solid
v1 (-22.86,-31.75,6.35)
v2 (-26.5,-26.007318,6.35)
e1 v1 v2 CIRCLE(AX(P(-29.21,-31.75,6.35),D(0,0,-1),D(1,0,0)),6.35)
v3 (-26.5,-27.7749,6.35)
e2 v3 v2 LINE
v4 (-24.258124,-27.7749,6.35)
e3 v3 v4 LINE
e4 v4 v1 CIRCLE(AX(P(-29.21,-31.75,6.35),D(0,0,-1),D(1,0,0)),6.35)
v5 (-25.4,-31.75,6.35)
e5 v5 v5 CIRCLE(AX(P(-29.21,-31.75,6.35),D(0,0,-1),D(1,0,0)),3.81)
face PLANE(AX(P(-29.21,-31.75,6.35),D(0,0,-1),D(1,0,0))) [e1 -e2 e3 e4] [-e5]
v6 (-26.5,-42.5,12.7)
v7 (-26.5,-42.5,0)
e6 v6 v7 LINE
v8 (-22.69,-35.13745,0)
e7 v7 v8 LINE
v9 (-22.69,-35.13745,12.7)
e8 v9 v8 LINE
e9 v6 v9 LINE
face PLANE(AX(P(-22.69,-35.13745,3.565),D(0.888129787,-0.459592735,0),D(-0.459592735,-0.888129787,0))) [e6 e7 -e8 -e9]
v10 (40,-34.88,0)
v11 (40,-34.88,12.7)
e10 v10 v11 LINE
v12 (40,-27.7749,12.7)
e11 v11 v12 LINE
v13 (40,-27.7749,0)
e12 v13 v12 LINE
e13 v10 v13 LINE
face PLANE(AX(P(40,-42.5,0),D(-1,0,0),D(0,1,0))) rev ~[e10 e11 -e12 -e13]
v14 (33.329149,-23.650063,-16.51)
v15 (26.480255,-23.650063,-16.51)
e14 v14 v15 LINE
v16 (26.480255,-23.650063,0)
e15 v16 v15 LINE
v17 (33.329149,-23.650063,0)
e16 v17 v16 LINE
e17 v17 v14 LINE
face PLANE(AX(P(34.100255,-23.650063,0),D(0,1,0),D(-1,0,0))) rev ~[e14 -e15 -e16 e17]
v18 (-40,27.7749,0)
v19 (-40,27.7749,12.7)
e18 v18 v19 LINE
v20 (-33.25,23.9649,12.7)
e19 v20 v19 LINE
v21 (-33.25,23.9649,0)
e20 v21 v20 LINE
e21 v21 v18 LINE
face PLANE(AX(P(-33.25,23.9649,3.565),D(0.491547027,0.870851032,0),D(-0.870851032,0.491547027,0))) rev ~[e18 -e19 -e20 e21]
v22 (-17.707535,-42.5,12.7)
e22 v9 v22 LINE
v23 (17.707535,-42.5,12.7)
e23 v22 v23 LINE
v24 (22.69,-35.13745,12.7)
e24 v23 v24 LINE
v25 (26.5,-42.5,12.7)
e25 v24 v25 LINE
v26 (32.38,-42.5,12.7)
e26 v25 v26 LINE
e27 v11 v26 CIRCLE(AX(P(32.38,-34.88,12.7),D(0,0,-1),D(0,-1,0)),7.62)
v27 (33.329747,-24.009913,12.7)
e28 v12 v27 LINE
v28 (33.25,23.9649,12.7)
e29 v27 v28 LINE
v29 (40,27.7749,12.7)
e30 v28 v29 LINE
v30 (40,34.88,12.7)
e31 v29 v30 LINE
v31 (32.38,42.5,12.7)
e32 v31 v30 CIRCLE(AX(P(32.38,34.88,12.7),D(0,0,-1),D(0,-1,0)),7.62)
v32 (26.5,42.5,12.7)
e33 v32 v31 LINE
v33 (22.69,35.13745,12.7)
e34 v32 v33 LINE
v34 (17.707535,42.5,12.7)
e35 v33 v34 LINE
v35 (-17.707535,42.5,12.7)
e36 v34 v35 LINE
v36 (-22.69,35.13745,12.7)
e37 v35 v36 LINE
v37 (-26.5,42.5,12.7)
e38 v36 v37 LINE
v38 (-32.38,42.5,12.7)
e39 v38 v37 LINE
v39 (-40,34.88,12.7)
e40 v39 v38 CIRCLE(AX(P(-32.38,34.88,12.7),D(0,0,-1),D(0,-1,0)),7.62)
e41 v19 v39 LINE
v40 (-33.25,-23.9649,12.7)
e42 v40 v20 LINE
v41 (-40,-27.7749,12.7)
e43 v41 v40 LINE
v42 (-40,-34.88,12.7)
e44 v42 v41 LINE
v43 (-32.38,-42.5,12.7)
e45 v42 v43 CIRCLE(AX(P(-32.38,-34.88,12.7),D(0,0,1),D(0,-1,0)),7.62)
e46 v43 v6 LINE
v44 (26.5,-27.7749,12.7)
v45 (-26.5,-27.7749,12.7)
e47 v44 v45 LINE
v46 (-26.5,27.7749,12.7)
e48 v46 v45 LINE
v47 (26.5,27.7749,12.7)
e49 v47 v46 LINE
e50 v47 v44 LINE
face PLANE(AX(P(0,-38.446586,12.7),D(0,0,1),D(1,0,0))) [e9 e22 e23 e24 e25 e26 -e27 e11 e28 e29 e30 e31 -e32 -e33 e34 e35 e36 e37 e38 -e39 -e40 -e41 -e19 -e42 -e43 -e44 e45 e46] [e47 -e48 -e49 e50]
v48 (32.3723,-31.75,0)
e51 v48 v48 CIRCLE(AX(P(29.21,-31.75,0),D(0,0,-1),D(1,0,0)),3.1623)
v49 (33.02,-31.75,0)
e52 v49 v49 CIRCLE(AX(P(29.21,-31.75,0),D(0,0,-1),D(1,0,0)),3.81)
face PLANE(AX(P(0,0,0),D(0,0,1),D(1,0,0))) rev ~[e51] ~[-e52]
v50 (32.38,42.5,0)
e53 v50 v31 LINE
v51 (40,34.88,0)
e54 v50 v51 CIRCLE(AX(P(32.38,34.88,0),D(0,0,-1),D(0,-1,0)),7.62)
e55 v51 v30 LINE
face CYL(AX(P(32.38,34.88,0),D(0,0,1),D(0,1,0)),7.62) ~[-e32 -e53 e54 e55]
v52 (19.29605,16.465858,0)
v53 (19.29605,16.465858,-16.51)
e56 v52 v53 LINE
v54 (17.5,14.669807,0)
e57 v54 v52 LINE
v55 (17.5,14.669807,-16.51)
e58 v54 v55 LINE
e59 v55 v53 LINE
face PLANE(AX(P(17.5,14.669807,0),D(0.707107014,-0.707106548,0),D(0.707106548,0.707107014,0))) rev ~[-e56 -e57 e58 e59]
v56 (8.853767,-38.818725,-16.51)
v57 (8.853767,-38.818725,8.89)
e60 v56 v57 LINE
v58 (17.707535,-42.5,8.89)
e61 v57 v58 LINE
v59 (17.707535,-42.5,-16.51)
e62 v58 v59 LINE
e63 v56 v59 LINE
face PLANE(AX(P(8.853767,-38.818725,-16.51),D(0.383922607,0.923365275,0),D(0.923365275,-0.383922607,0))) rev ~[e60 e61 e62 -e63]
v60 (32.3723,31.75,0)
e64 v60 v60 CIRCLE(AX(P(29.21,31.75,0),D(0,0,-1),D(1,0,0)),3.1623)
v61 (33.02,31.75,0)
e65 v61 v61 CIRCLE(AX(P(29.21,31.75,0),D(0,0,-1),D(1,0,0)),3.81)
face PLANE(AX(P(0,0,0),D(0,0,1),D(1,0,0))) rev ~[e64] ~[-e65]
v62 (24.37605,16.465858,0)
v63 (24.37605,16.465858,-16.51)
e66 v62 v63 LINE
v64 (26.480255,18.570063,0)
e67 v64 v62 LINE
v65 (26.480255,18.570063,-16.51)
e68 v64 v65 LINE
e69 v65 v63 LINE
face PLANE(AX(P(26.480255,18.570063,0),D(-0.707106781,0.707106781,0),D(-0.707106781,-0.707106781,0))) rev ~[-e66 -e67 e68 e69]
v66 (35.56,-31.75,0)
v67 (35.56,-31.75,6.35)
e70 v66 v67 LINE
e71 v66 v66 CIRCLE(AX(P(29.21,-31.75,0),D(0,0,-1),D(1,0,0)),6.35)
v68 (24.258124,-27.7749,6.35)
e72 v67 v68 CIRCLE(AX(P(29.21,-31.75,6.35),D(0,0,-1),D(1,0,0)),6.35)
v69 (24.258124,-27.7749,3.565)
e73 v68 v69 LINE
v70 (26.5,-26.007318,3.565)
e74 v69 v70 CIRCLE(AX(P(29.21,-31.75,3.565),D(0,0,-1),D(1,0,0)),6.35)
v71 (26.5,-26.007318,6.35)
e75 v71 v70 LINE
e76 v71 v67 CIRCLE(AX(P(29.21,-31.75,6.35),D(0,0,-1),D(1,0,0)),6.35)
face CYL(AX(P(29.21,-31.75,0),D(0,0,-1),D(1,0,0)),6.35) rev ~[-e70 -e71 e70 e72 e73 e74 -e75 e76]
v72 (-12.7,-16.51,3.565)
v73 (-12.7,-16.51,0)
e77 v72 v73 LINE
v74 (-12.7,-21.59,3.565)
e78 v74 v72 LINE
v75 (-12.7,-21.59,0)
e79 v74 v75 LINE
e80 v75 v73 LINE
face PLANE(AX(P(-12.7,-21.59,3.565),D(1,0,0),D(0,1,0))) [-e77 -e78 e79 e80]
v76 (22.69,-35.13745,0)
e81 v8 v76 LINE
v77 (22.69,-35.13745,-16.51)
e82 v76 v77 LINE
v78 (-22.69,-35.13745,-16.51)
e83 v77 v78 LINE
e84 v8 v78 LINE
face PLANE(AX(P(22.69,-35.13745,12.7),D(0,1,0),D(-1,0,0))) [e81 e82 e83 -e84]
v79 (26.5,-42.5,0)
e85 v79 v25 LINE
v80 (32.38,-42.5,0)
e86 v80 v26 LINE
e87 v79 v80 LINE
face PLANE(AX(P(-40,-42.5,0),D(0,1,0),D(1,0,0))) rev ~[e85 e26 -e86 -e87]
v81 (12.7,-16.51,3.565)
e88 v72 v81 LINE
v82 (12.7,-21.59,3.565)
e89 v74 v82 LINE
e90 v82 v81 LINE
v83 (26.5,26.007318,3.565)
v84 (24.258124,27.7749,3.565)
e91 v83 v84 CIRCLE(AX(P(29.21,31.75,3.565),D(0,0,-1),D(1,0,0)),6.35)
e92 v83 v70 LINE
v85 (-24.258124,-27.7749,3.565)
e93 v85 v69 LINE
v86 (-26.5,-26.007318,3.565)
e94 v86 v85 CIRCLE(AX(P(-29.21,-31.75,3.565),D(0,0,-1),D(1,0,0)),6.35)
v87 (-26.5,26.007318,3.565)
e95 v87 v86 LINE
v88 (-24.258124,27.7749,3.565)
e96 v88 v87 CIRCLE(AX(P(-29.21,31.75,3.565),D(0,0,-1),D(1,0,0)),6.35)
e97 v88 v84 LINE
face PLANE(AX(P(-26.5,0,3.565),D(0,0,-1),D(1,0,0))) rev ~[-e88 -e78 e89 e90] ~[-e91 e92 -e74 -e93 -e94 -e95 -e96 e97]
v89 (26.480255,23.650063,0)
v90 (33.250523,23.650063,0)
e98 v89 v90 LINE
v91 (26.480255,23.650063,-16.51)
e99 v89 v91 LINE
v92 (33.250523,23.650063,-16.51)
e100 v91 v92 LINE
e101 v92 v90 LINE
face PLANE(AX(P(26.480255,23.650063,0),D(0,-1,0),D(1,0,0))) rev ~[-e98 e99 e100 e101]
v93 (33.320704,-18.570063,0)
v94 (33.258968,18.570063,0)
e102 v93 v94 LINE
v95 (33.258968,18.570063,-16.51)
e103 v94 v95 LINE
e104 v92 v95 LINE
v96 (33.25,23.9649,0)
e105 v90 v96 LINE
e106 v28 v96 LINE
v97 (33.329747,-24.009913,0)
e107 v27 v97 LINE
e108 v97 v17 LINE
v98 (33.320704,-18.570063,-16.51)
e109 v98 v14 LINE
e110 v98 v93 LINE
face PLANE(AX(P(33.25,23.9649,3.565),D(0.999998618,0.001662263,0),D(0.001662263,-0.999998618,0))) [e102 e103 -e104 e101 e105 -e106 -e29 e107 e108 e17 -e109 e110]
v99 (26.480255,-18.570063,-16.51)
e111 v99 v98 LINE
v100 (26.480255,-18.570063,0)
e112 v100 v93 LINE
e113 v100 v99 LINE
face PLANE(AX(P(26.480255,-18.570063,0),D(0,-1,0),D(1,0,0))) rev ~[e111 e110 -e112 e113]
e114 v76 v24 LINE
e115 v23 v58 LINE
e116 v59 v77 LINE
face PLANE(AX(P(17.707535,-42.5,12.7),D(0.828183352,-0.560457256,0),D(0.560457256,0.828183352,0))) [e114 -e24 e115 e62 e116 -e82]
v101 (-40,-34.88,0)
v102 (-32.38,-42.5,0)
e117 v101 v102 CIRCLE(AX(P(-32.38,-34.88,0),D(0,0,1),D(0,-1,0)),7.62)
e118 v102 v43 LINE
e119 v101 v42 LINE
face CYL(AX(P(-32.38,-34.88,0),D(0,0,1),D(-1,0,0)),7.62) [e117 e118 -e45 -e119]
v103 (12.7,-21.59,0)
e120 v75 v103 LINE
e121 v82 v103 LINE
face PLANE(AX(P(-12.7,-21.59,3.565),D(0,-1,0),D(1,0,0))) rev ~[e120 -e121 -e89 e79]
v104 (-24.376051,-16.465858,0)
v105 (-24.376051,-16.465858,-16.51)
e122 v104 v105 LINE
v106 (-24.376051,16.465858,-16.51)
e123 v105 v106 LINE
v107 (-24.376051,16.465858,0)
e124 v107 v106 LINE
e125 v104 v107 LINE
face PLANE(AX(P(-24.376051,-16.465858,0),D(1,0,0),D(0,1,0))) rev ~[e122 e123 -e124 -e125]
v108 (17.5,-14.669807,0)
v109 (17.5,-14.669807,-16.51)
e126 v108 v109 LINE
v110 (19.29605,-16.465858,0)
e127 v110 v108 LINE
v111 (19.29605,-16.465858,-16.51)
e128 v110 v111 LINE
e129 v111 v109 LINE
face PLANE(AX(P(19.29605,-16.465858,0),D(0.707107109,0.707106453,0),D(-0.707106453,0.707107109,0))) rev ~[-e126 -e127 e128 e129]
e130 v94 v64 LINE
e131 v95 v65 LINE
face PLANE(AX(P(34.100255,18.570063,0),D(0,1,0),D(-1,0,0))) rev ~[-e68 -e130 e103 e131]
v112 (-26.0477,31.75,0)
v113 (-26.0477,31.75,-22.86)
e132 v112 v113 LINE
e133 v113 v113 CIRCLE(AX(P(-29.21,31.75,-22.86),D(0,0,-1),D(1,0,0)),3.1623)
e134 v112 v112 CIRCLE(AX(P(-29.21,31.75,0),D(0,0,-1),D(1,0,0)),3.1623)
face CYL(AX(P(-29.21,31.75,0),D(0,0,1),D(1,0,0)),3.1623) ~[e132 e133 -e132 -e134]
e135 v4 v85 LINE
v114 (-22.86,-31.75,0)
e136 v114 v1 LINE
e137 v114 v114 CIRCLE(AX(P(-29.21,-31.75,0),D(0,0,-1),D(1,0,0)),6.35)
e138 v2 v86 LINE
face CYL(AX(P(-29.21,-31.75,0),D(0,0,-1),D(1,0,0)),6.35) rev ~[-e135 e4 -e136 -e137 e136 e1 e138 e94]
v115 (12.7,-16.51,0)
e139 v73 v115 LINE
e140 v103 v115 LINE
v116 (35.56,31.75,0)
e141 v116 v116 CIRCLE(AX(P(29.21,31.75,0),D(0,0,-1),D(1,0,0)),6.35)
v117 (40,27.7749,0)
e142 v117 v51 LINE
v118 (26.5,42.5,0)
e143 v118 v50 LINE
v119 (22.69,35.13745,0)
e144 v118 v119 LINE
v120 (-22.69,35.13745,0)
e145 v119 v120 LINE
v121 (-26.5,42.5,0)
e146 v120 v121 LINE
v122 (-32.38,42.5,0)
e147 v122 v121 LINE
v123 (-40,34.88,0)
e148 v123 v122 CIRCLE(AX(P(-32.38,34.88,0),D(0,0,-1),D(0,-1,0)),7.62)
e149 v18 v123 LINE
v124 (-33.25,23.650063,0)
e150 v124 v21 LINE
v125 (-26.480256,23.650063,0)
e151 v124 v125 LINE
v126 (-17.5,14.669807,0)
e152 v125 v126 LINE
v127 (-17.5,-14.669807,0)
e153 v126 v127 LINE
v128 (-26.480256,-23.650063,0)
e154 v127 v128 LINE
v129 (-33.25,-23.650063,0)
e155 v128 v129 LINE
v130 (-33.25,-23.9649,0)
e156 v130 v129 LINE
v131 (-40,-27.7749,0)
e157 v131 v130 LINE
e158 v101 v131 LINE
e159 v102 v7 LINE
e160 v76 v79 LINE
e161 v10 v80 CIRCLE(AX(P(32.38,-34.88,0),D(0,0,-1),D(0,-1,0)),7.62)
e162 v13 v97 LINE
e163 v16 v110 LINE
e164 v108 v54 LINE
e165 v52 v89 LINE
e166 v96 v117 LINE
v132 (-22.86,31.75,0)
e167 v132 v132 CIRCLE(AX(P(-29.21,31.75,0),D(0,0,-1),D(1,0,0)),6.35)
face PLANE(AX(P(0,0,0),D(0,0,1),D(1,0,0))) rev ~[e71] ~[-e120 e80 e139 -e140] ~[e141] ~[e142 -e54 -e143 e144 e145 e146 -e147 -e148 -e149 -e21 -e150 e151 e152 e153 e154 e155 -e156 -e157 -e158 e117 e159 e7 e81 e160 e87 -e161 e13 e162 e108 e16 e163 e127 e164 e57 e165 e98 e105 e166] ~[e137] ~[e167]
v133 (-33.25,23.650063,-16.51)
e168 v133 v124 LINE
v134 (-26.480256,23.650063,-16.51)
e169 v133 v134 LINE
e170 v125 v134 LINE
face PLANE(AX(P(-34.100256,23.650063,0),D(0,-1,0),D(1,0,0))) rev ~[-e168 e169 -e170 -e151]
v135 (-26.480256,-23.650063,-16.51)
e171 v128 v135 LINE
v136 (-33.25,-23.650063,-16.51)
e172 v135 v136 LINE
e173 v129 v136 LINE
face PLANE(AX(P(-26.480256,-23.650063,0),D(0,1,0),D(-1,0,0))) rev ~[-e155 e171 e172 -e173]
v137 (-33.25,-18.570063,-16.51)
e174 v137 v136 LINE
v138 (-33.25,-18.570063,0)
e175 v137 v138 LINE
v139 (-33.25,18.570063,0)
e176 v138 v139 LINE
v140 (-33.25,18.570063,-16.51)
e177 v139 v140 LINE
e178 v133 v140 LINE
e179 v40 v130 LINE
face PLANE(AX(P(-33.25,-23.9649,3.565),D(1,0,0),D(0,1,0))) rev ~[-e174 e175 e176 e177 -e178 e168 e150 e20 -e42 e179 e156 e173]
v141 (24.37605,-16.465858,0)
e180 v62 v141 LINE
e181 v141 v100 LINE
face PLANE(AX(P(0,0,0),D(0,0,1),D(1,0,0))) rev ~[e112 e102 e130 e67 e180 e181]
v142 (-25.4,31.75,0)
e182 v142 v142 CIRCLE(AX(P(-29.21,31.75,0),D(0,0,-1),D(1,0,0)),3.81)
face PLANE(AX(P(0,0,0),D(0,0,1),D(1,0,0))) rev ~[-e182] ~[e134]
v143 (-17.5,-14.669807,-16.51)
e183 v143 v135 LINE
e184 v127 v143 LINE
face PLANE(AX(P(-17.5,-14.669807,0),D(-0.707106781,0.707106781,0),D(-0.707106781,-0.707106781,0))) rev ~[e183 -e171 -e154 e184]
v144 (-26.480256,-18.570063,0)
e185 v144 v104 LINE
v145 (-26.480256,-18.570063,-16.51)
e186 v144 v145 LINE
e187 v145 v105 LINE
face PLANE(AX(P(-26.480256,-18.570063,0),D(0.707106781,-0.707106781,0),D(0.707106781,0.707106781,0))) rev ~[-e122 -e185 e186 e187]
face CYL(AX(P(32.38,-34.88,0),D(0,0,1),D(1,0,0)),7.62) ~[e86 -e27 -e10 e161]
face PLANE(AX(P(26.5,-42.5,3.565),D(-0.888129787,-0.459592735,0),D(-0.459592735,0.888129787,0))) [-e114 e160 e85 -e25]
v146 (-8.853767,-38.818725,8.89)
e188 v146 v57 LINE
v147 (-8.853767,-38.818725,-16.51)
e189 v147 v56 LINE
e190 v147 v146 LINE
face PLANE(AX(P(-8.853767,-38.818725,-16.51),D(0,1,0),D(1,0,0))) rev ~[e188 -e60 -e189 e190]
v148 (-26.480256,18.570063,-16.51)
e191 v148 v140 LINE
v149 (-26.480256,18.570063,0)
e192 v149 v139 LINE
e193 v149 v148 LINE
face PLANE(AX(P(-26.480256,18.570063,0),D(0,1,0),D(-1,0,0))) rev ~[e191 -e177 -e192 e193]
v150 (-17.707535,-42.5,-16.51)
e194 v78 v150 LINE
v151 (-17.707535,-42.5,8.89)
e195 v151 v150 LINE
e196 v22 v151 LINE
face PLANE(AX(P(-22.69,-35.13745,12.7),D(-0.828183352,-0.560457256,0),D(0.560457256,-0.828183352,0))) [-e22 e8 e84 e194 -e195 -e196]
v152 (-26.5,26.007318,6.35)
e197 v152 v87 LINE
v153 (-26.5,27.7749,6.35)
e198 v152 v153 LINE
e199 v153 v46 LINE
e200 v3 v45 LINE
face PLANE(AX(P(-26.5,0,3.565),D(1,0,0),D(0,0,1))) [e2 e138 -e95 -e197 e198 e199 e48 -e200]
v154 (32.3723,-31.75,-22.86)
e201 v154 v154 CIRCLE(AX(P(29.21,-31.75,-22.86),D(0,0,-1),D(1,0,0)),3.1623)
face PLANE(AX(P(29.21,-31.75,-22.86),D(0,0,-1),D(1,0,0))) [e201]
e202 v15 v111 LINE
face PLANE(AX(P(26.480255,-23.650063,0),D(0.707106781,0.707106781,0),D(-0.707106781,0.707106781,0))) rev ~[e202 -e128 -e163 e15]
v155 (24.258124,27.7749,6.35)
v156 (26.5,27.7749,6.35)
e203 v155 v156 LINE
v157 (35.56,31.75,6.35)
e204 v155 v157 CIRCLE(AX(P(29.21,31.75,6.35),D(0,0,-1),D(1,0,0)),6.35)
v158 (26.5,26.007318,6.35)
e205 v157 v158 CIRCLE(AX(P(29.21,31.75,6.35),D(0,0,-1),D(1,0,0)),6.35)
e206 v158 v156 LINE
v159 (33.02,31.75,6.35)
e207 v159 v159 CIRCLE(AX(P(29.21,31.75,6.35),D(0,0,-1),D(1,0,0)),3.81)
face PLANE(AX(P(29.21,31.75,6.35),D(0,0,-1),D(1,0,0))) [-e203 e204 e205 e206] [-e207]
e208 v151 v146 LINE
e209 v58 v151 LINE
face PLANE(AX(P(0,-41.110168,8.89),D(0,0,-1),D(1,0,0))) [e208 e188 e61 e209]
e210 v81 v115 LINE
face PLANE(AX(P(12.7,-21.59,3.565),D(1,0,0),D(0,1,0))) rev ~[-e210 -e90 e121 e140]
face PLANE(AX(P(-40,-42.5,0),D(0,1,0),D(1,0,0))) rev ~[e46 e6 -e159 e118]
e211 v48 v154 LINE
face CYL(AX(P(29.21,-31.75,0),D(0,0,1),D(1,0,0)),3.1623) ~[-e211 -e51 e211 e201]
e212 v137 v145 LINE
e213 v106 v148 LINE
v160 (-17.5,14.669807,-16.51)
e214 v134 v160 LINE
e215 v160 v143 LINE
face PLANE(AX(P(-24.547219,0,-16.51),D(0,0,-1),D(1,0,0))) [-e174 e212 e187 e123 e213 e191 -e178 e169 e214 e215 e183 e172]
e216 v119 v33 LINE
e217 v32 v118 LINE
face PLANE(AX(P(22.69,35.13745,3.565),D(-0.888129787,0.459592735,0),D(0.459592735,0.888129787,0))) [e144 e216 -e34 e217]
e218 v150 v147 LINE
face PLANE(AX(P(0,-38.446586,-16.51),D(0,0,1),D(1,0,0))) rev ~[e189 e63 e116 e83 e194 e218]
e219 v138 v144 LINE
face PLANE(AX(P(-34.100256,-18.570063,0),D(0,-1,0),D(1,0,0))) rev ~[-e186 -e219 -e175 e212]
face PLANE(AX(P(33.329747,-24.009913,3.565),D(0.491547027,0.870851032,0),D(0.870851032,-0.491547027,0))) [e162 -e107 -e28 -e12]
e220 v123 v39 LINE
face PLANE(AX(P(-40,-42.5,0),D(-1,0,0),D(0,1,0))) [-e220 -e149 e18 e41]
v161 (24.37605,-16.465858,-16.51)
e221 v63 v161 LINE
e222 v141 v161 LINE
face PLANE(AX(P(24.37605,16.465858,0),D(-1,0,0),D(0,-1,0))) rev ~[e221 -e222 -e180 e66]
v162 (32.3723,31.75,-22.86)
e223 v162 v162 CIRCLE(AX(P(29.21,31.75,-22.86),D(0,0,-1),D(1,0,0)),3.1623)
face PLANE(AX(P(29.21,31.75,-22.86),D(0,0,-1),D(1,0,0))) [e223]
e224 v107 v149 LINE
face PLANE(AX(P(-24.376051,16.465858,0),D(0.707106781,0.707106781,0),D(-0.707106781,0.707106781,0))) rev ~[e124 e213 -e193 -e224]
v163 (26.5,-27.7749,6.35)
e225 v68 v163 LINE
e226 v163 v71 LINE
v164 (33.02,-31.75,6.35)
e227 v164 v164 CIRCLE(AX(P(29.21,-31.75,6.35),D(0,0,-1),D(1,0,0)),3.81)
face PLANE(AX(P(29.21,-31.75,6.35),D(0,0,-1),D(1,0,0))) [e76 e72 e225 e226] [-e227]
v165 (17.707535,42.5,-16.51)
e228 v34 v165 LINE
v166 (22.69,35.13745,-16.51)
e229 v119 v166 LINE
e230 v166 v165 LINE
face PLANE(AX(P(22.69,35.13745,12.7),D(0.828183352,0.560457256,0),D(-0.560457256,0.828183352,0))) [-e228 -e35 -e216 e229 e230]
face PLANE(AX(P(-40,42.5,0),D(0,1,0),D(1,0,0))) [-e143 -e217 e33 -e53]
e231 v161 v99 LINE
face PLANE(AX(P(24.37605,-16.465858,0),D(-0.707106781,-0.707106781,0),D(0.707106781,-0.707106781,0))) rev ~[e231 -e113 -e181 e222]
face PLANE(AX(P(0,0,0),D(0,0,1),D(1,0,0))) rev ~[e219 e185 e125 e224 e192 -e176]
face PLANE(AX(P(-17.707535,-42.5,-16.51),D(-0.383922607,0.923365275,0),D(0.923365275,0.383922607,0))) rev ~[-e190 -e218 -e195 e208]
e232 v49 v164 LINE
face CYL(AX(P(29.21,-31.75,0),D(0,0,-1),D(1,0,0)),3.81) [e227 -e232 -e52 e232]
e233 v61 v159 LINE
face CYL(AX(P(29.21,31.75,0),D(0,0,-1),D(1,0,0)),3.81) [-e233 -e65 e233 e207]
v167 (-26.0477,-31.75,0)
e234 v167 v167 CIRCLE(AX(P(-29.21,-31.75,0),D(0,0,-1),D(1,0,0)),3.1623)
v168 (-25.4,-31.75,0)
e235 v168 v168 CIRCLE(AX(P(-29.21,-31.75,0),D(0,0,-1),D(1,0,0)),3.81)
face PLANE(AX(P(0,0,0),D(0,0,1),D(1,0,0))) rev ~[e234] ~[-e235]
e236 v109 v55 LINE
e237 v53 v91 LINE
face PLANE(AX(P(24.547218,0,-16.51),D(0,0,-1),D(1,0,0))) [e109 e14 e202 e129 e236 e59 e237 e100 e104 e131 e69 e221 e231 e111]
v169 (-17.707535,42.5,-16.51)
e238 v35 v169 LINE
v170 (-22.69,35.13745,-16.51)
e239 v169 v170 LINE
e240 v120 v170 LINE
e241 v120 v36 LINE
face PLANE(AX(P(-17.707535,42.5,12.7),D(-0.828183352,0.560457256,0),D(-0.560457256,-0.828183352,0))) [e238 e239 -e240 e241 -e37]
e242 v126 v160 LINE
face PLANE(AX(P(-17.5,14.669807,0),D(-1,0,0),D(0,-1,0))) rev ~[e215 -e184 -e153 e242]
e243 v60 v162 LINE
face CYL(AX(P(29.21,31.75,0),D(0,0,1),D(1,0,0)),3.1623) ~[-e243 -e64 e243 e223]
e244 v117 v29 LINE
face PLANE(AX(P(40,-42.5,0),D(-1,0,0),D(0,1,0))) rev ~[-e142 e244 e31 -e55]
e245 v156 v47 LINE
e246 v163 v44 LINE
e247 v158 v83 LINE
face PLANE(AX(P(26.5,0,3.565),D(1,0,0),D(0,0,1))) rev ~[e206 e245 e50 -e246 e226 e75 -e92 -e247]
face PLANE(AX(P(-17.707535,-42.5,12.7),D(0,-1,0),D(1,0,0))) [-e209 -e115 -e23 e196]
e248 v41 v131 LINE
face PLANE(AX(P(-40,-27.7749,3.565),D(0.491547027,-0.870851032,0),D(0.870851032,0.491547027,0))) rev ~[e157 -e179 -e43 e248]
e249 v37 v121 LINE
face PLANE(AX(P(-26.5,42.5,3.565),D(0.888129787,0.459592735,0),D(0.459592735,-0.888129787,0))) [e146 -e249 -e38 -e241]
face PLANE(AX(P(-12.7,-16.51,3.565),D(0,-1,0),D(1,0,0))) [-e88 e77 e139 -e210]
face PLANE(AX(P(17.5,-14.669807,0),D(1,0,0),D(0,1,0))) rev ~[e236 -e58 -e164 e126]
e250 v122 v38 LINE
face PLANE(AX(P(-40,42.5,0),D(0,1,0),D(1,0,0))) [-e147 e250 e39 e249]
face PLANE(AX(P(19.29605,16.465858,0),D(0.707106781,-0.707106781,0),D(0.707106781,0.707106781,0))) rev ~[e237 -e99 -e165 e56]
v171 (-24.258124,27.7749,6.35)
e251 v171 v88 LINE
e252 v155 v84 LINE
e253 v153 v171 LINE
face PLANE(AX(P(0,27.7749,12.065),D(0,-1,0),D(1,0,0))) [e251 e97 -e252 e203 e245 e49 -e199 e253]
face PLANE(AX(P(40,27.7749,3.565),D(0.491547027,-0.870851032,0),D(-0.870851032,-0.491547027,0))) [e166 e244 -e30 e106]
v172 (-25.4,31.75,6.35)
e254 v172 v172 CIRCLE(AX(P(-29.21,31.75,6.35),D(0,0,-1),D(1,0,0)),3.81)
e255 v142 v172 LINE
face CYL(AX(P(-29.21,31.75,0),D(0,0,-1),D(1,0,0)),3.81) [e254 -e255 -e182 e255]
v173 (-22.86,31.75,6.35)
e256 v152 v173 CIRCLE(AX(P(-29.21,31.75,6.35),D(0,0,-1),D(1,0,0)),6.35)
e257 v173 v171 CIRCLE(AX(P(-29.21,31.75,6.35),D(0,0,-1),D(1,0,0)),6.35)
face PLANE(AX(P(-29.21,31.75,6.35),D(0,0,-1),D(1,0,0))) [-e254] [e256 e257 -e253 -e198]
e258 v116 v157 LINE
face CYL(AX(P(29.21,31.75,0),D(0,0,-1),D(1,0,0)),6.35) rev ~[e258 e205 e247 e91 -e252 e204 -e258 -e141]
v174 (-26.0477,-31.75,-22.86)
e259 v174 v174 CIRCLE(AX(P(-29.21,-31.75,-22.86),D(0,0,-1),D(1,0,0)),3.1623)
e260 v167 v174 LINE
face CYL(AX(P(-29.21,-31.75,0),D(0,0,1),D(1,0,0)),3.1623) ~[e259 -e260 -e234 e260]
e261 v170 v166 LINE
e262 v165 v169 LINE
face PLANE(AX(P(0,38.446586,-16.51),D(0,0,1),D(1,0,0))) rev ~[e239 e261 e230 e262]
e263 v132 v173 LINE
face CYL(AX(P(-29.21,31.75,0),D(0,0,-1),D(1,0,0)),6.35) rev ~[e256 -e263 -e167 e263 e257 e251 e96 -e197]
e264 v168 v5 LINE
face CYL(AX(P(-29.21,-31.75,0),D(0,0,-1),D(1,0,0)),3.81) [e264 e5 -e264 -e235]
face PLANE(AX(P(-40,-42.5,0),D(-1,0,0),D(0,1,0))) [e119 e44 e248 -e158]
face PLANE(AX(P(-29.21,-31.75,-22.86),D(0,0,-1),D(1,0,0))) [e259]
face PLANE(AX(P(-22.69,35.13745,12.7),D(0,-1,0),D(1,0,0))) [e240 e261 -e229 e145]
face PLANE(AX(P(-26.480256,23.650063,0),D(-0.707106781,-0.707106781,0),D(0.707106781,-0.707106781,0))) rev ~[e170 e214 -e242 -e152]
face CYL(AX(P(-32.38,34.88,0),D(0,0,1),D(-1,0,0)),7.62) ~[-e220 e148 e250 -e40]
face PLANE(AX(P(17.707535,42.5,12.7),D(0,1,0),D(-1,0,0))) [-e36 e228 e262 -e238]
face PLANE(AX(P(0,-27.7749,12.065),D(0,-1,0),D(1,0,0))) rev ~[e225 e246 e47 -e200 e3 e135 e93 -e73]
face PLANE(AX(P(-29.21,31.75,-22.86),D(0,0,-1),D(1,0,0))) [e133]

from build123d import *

# Parameters (mm, degrees)
F0_W      = 80
F0_H      = 85
F1_DEPTH  = 25.4
F2_W      = 53
F2_H      = 17
F3_DEPTH  = 27.7749
F4_W      = 80
F4_H      = 85
F5_DEPTH  = 12.7
F6_R      = 3.1623
F7_DEPTH  = 22.86
F8_W      = 25.4
F8_H      = 5.08
F9_DEPTH  = 25.4
F10_R     = 7.62
F11_R     = 7.62
F12_R     = 7.62
F13_R     = 7.62
F15_DEPTH = 16.51
F16_W     = 35
F16_H     = 50.8
F17_DEPTH = 25.4
F19_DEPTH = 38.1
F20_R     = 6.35
F20_R_2   = 3.81
F21_DEPTH = 6.35
F23_DEPTH = 29.21
F25_DEPTH = 25.4


with BuildPart() as f1:
    # F0 (on Top) → F1 (new body)
    with BuildSketch(Plane.XY):
        Rectangle(F0_W, F0_H)
    extrude(amount=F1_DEPTH)

    # F2 (on Front) → F3 (cut, symmetric)
    with BuildSketch(Plane.XZ):
        with Locations((0, 12.065)):
            Rectangle(F2_W, F2_H)
    extrude(amount=F3_DEPTH, both=True, mode=Mode.SUBTRACT)

    # F4 (on face) → F5 (cut)
    with BuildSketch(Plane.XY.offset(25.4)):
        Rectangle(F4_W, F4_H)
    extrude(amount=-F5_DEPTH, mode=Mode.SUBTRACT)

    # F6 (on face) → F7 (join)
    with BuildSketch(Plane(origin=(0, 0, 0), x_dir=(1, 0, 0), z_dir=(0, 0, -1))):
        with Locations((-29.21, 31.75)):
            Circle(F6_R)
        with Locations((29.21, 31.75)):
            Circle(F6_R)
        with Locations((29.21, -31.75)):
            Circle(F6_R)
        with Locations((-29.21, -31.75)):
            Circle(F6_R)
    extrude(amount=F7_DEPTH)

    # F8 (on face) → F9 (cut)
    with BuildSketch(Plane.XY.offset(3.565)):
        with Locations((0, -19.05)):
            Rectangle(F8_W, F8_H)
    extrude(amount=-F9_DEPTH, mode=Mode.SUBTRACT)

    # F10
    f10_edges = [f1.edges().sort_by_distance(p)[0] for p in [
        (-40, -42.5, 6.35),
    ]]
    fillet(f10_edges, radius=F10_R)

    # F11
    f11_edges = [f1.edges().sort_by_distance(p)[0] for p in [
        (-40, 42.5, 6.35),
    ]]
    fillet(f11_edges, radius=F11_R)

    # F12
    f12_edges = [f1.edges().sort_by_distance(p)[0] for p in [
        (40, 42.5, 6.35),
    ]]
    fillet(f12_edges, radius=F12_R)

    # F13
    f13_edges = [f1.edges().sort_by_distance(p)[0] for p in [
        (40, -42.5, 6.35),
    ]]
    fillet(f13_edges, radius=F13_R)

    # F14 (on face) → F15 (join)
    with BuildSketch(Plane(origin=(0, 0, 0), x_dir=(1, 0, 0), z_dir=(0, 0, -1))):
        Polygon((-19.2960512242, 16.4658580638), (-26.4802561211, 23.6500629607), (-34.1002561211, 23.6500629607), (-34.1002561211, 18.5700629607), (-26.4802561211, 18.5700629607), (-24.3760512242, 16.4658580638), (-24.3760512242, 8.2329290319), (-24.3760512242, 0), (-24.3760512242, -8.2329290319), (-24.3760512242, -16.4658580638), (-26.4802561211, -18.5700629607), (-34.1002561211, -18.5700629607), (-34.1002561211, -23.6500629607), (-26.4802561211, -23.6500629607), (-19.2960512242, -16.4658580638), (-17.5, -14.6698068396), (-17.5, 0), (-17.5, 14.6698068396), align=None)
        Polygon((19.2960498, -16.4658578227), (26.4802546969, -23.6500627196), (34.1002546969, -23.6500627196), (34.1002546969, -18.5700627196), (26.4802546969, -18.5700627196), (24.3760498, -16.4658578227), (24.3760498, -8.2329287908), (24.3760498, 2.411e-07), (24.3760498, 8.232929273), (24.3760498, 16.4658583049), (26.4802546969, 18.5700632018), (34.1002546969, 18.5700632018), (34.1002546969, 23.6500632018), (26.4802546969, 23.6500632018), (19.2960498, 16.4658583049), (17.5, 14.6698068396), (17.5, 0), (17.5, -14.6698068396), align=None)
    extrude(amount=F15_DEPTH)

    # F16 (on face) → F17 (cut)
    with BuildSketch(Plane(origin=(0, 0, 0), x_dir=(1, 0, 0), z_dir=(0, 0, -1))):
        Rectangle(F16_W, F16_H)
    extrude(amount=F17_DEPTH, mode=Mode.SUBTRACT)

    # F18 (on face) → F19 (cut, symmetric)
    with BuildSketch(Plane.XY.offset(3.565)):
        Polygon((-26.5, -42.5), (26.5, -42.5), (22.69, -35.13745), (-22.69, -35.13745), align=None)
        Polygon((33.3297468424, -24.0099126621), (40, -27.7749), (40, 27.7749), (33.25, 23.9649), align=None)
        Polygon((-26.5, 42.5), (-22.69, 35.13745), (22.69, 35.13745), (26.5, 42.5), align=None)
        Polygon((-33.25, -23.9649), (-33.25, 23.9649), (-40, 27.7749), (-40, -27.7749), align=None)
    extrude(amount=F19_DEPTH, both=True, mode=Mode.SUBTRACT)

    # F20 (on face) → F21 (cut)
    with BuildSketch(Plane(origin=(0, 0, 0), x_dir=(1, 0, 0), z_dir=(0, 0, -1))):
        with Locations((-29.21, 31.75)):
            Circle(F20_R)
        with Locations((-29.21, 31.75)):
            Circle(F20_R_2, mode=Mode.SUBTRACT)
        with Locations((29.21, 31.75)):
            Circle(F20_R)
        with Locations((29.21, 31.75)):
            Circle(F20_R_2, mode=Mode.SUBTRACT)
        with Locations((29.21, -31.75)):
            Circle(F20_R)
        with Locations((29.21, -31.75)):
            Circle(F20_R_2, mode=Mode.SUBTRACT)
        with Locations((-29.21, -31.75)):
            Circle(F20_R)
        with Locations((-29.21, -31.75)):
            Circle(F20_R_2, mode=Mode.SUBTRACT)
    extrude(amount=-F21_DEPTH, mode=Mode.SUBTRACT)

    # F22 (on face) → F23 (join)
    with BuildSketch(Plane.XY.offset(12.7)):
        Polygon((22.69, -35.13745), (-22.69, -35.13745), (-17.7075349979, -42.5), (17.7075349979, -42.5), align=None)
        Polygon((-17.7075349979, 42.5), (-22.69, 35.13745), (22.69, 35.13745), (17.7075349979, 42.5), align=None)
    extrude(amount=-F23_DEPTH)

    # F24 (on face) → F25 (cut)
    with BuildSketch(Plane(origin=(0, 0, -16.51), x_dir=(1, 0, 0), z_dir=(0, 0, -1))):
        Polygon((17.7075349979, 42.5), (-17.7075349979, 42.5), (-8.8537674989, 38.818725), (0, 38.818725), (8.8537674989, 38.818725), align=None)
    extrude(amount=-F25_DEPTH, mode=Mode.SUBTRACT)


solid = f1.part
